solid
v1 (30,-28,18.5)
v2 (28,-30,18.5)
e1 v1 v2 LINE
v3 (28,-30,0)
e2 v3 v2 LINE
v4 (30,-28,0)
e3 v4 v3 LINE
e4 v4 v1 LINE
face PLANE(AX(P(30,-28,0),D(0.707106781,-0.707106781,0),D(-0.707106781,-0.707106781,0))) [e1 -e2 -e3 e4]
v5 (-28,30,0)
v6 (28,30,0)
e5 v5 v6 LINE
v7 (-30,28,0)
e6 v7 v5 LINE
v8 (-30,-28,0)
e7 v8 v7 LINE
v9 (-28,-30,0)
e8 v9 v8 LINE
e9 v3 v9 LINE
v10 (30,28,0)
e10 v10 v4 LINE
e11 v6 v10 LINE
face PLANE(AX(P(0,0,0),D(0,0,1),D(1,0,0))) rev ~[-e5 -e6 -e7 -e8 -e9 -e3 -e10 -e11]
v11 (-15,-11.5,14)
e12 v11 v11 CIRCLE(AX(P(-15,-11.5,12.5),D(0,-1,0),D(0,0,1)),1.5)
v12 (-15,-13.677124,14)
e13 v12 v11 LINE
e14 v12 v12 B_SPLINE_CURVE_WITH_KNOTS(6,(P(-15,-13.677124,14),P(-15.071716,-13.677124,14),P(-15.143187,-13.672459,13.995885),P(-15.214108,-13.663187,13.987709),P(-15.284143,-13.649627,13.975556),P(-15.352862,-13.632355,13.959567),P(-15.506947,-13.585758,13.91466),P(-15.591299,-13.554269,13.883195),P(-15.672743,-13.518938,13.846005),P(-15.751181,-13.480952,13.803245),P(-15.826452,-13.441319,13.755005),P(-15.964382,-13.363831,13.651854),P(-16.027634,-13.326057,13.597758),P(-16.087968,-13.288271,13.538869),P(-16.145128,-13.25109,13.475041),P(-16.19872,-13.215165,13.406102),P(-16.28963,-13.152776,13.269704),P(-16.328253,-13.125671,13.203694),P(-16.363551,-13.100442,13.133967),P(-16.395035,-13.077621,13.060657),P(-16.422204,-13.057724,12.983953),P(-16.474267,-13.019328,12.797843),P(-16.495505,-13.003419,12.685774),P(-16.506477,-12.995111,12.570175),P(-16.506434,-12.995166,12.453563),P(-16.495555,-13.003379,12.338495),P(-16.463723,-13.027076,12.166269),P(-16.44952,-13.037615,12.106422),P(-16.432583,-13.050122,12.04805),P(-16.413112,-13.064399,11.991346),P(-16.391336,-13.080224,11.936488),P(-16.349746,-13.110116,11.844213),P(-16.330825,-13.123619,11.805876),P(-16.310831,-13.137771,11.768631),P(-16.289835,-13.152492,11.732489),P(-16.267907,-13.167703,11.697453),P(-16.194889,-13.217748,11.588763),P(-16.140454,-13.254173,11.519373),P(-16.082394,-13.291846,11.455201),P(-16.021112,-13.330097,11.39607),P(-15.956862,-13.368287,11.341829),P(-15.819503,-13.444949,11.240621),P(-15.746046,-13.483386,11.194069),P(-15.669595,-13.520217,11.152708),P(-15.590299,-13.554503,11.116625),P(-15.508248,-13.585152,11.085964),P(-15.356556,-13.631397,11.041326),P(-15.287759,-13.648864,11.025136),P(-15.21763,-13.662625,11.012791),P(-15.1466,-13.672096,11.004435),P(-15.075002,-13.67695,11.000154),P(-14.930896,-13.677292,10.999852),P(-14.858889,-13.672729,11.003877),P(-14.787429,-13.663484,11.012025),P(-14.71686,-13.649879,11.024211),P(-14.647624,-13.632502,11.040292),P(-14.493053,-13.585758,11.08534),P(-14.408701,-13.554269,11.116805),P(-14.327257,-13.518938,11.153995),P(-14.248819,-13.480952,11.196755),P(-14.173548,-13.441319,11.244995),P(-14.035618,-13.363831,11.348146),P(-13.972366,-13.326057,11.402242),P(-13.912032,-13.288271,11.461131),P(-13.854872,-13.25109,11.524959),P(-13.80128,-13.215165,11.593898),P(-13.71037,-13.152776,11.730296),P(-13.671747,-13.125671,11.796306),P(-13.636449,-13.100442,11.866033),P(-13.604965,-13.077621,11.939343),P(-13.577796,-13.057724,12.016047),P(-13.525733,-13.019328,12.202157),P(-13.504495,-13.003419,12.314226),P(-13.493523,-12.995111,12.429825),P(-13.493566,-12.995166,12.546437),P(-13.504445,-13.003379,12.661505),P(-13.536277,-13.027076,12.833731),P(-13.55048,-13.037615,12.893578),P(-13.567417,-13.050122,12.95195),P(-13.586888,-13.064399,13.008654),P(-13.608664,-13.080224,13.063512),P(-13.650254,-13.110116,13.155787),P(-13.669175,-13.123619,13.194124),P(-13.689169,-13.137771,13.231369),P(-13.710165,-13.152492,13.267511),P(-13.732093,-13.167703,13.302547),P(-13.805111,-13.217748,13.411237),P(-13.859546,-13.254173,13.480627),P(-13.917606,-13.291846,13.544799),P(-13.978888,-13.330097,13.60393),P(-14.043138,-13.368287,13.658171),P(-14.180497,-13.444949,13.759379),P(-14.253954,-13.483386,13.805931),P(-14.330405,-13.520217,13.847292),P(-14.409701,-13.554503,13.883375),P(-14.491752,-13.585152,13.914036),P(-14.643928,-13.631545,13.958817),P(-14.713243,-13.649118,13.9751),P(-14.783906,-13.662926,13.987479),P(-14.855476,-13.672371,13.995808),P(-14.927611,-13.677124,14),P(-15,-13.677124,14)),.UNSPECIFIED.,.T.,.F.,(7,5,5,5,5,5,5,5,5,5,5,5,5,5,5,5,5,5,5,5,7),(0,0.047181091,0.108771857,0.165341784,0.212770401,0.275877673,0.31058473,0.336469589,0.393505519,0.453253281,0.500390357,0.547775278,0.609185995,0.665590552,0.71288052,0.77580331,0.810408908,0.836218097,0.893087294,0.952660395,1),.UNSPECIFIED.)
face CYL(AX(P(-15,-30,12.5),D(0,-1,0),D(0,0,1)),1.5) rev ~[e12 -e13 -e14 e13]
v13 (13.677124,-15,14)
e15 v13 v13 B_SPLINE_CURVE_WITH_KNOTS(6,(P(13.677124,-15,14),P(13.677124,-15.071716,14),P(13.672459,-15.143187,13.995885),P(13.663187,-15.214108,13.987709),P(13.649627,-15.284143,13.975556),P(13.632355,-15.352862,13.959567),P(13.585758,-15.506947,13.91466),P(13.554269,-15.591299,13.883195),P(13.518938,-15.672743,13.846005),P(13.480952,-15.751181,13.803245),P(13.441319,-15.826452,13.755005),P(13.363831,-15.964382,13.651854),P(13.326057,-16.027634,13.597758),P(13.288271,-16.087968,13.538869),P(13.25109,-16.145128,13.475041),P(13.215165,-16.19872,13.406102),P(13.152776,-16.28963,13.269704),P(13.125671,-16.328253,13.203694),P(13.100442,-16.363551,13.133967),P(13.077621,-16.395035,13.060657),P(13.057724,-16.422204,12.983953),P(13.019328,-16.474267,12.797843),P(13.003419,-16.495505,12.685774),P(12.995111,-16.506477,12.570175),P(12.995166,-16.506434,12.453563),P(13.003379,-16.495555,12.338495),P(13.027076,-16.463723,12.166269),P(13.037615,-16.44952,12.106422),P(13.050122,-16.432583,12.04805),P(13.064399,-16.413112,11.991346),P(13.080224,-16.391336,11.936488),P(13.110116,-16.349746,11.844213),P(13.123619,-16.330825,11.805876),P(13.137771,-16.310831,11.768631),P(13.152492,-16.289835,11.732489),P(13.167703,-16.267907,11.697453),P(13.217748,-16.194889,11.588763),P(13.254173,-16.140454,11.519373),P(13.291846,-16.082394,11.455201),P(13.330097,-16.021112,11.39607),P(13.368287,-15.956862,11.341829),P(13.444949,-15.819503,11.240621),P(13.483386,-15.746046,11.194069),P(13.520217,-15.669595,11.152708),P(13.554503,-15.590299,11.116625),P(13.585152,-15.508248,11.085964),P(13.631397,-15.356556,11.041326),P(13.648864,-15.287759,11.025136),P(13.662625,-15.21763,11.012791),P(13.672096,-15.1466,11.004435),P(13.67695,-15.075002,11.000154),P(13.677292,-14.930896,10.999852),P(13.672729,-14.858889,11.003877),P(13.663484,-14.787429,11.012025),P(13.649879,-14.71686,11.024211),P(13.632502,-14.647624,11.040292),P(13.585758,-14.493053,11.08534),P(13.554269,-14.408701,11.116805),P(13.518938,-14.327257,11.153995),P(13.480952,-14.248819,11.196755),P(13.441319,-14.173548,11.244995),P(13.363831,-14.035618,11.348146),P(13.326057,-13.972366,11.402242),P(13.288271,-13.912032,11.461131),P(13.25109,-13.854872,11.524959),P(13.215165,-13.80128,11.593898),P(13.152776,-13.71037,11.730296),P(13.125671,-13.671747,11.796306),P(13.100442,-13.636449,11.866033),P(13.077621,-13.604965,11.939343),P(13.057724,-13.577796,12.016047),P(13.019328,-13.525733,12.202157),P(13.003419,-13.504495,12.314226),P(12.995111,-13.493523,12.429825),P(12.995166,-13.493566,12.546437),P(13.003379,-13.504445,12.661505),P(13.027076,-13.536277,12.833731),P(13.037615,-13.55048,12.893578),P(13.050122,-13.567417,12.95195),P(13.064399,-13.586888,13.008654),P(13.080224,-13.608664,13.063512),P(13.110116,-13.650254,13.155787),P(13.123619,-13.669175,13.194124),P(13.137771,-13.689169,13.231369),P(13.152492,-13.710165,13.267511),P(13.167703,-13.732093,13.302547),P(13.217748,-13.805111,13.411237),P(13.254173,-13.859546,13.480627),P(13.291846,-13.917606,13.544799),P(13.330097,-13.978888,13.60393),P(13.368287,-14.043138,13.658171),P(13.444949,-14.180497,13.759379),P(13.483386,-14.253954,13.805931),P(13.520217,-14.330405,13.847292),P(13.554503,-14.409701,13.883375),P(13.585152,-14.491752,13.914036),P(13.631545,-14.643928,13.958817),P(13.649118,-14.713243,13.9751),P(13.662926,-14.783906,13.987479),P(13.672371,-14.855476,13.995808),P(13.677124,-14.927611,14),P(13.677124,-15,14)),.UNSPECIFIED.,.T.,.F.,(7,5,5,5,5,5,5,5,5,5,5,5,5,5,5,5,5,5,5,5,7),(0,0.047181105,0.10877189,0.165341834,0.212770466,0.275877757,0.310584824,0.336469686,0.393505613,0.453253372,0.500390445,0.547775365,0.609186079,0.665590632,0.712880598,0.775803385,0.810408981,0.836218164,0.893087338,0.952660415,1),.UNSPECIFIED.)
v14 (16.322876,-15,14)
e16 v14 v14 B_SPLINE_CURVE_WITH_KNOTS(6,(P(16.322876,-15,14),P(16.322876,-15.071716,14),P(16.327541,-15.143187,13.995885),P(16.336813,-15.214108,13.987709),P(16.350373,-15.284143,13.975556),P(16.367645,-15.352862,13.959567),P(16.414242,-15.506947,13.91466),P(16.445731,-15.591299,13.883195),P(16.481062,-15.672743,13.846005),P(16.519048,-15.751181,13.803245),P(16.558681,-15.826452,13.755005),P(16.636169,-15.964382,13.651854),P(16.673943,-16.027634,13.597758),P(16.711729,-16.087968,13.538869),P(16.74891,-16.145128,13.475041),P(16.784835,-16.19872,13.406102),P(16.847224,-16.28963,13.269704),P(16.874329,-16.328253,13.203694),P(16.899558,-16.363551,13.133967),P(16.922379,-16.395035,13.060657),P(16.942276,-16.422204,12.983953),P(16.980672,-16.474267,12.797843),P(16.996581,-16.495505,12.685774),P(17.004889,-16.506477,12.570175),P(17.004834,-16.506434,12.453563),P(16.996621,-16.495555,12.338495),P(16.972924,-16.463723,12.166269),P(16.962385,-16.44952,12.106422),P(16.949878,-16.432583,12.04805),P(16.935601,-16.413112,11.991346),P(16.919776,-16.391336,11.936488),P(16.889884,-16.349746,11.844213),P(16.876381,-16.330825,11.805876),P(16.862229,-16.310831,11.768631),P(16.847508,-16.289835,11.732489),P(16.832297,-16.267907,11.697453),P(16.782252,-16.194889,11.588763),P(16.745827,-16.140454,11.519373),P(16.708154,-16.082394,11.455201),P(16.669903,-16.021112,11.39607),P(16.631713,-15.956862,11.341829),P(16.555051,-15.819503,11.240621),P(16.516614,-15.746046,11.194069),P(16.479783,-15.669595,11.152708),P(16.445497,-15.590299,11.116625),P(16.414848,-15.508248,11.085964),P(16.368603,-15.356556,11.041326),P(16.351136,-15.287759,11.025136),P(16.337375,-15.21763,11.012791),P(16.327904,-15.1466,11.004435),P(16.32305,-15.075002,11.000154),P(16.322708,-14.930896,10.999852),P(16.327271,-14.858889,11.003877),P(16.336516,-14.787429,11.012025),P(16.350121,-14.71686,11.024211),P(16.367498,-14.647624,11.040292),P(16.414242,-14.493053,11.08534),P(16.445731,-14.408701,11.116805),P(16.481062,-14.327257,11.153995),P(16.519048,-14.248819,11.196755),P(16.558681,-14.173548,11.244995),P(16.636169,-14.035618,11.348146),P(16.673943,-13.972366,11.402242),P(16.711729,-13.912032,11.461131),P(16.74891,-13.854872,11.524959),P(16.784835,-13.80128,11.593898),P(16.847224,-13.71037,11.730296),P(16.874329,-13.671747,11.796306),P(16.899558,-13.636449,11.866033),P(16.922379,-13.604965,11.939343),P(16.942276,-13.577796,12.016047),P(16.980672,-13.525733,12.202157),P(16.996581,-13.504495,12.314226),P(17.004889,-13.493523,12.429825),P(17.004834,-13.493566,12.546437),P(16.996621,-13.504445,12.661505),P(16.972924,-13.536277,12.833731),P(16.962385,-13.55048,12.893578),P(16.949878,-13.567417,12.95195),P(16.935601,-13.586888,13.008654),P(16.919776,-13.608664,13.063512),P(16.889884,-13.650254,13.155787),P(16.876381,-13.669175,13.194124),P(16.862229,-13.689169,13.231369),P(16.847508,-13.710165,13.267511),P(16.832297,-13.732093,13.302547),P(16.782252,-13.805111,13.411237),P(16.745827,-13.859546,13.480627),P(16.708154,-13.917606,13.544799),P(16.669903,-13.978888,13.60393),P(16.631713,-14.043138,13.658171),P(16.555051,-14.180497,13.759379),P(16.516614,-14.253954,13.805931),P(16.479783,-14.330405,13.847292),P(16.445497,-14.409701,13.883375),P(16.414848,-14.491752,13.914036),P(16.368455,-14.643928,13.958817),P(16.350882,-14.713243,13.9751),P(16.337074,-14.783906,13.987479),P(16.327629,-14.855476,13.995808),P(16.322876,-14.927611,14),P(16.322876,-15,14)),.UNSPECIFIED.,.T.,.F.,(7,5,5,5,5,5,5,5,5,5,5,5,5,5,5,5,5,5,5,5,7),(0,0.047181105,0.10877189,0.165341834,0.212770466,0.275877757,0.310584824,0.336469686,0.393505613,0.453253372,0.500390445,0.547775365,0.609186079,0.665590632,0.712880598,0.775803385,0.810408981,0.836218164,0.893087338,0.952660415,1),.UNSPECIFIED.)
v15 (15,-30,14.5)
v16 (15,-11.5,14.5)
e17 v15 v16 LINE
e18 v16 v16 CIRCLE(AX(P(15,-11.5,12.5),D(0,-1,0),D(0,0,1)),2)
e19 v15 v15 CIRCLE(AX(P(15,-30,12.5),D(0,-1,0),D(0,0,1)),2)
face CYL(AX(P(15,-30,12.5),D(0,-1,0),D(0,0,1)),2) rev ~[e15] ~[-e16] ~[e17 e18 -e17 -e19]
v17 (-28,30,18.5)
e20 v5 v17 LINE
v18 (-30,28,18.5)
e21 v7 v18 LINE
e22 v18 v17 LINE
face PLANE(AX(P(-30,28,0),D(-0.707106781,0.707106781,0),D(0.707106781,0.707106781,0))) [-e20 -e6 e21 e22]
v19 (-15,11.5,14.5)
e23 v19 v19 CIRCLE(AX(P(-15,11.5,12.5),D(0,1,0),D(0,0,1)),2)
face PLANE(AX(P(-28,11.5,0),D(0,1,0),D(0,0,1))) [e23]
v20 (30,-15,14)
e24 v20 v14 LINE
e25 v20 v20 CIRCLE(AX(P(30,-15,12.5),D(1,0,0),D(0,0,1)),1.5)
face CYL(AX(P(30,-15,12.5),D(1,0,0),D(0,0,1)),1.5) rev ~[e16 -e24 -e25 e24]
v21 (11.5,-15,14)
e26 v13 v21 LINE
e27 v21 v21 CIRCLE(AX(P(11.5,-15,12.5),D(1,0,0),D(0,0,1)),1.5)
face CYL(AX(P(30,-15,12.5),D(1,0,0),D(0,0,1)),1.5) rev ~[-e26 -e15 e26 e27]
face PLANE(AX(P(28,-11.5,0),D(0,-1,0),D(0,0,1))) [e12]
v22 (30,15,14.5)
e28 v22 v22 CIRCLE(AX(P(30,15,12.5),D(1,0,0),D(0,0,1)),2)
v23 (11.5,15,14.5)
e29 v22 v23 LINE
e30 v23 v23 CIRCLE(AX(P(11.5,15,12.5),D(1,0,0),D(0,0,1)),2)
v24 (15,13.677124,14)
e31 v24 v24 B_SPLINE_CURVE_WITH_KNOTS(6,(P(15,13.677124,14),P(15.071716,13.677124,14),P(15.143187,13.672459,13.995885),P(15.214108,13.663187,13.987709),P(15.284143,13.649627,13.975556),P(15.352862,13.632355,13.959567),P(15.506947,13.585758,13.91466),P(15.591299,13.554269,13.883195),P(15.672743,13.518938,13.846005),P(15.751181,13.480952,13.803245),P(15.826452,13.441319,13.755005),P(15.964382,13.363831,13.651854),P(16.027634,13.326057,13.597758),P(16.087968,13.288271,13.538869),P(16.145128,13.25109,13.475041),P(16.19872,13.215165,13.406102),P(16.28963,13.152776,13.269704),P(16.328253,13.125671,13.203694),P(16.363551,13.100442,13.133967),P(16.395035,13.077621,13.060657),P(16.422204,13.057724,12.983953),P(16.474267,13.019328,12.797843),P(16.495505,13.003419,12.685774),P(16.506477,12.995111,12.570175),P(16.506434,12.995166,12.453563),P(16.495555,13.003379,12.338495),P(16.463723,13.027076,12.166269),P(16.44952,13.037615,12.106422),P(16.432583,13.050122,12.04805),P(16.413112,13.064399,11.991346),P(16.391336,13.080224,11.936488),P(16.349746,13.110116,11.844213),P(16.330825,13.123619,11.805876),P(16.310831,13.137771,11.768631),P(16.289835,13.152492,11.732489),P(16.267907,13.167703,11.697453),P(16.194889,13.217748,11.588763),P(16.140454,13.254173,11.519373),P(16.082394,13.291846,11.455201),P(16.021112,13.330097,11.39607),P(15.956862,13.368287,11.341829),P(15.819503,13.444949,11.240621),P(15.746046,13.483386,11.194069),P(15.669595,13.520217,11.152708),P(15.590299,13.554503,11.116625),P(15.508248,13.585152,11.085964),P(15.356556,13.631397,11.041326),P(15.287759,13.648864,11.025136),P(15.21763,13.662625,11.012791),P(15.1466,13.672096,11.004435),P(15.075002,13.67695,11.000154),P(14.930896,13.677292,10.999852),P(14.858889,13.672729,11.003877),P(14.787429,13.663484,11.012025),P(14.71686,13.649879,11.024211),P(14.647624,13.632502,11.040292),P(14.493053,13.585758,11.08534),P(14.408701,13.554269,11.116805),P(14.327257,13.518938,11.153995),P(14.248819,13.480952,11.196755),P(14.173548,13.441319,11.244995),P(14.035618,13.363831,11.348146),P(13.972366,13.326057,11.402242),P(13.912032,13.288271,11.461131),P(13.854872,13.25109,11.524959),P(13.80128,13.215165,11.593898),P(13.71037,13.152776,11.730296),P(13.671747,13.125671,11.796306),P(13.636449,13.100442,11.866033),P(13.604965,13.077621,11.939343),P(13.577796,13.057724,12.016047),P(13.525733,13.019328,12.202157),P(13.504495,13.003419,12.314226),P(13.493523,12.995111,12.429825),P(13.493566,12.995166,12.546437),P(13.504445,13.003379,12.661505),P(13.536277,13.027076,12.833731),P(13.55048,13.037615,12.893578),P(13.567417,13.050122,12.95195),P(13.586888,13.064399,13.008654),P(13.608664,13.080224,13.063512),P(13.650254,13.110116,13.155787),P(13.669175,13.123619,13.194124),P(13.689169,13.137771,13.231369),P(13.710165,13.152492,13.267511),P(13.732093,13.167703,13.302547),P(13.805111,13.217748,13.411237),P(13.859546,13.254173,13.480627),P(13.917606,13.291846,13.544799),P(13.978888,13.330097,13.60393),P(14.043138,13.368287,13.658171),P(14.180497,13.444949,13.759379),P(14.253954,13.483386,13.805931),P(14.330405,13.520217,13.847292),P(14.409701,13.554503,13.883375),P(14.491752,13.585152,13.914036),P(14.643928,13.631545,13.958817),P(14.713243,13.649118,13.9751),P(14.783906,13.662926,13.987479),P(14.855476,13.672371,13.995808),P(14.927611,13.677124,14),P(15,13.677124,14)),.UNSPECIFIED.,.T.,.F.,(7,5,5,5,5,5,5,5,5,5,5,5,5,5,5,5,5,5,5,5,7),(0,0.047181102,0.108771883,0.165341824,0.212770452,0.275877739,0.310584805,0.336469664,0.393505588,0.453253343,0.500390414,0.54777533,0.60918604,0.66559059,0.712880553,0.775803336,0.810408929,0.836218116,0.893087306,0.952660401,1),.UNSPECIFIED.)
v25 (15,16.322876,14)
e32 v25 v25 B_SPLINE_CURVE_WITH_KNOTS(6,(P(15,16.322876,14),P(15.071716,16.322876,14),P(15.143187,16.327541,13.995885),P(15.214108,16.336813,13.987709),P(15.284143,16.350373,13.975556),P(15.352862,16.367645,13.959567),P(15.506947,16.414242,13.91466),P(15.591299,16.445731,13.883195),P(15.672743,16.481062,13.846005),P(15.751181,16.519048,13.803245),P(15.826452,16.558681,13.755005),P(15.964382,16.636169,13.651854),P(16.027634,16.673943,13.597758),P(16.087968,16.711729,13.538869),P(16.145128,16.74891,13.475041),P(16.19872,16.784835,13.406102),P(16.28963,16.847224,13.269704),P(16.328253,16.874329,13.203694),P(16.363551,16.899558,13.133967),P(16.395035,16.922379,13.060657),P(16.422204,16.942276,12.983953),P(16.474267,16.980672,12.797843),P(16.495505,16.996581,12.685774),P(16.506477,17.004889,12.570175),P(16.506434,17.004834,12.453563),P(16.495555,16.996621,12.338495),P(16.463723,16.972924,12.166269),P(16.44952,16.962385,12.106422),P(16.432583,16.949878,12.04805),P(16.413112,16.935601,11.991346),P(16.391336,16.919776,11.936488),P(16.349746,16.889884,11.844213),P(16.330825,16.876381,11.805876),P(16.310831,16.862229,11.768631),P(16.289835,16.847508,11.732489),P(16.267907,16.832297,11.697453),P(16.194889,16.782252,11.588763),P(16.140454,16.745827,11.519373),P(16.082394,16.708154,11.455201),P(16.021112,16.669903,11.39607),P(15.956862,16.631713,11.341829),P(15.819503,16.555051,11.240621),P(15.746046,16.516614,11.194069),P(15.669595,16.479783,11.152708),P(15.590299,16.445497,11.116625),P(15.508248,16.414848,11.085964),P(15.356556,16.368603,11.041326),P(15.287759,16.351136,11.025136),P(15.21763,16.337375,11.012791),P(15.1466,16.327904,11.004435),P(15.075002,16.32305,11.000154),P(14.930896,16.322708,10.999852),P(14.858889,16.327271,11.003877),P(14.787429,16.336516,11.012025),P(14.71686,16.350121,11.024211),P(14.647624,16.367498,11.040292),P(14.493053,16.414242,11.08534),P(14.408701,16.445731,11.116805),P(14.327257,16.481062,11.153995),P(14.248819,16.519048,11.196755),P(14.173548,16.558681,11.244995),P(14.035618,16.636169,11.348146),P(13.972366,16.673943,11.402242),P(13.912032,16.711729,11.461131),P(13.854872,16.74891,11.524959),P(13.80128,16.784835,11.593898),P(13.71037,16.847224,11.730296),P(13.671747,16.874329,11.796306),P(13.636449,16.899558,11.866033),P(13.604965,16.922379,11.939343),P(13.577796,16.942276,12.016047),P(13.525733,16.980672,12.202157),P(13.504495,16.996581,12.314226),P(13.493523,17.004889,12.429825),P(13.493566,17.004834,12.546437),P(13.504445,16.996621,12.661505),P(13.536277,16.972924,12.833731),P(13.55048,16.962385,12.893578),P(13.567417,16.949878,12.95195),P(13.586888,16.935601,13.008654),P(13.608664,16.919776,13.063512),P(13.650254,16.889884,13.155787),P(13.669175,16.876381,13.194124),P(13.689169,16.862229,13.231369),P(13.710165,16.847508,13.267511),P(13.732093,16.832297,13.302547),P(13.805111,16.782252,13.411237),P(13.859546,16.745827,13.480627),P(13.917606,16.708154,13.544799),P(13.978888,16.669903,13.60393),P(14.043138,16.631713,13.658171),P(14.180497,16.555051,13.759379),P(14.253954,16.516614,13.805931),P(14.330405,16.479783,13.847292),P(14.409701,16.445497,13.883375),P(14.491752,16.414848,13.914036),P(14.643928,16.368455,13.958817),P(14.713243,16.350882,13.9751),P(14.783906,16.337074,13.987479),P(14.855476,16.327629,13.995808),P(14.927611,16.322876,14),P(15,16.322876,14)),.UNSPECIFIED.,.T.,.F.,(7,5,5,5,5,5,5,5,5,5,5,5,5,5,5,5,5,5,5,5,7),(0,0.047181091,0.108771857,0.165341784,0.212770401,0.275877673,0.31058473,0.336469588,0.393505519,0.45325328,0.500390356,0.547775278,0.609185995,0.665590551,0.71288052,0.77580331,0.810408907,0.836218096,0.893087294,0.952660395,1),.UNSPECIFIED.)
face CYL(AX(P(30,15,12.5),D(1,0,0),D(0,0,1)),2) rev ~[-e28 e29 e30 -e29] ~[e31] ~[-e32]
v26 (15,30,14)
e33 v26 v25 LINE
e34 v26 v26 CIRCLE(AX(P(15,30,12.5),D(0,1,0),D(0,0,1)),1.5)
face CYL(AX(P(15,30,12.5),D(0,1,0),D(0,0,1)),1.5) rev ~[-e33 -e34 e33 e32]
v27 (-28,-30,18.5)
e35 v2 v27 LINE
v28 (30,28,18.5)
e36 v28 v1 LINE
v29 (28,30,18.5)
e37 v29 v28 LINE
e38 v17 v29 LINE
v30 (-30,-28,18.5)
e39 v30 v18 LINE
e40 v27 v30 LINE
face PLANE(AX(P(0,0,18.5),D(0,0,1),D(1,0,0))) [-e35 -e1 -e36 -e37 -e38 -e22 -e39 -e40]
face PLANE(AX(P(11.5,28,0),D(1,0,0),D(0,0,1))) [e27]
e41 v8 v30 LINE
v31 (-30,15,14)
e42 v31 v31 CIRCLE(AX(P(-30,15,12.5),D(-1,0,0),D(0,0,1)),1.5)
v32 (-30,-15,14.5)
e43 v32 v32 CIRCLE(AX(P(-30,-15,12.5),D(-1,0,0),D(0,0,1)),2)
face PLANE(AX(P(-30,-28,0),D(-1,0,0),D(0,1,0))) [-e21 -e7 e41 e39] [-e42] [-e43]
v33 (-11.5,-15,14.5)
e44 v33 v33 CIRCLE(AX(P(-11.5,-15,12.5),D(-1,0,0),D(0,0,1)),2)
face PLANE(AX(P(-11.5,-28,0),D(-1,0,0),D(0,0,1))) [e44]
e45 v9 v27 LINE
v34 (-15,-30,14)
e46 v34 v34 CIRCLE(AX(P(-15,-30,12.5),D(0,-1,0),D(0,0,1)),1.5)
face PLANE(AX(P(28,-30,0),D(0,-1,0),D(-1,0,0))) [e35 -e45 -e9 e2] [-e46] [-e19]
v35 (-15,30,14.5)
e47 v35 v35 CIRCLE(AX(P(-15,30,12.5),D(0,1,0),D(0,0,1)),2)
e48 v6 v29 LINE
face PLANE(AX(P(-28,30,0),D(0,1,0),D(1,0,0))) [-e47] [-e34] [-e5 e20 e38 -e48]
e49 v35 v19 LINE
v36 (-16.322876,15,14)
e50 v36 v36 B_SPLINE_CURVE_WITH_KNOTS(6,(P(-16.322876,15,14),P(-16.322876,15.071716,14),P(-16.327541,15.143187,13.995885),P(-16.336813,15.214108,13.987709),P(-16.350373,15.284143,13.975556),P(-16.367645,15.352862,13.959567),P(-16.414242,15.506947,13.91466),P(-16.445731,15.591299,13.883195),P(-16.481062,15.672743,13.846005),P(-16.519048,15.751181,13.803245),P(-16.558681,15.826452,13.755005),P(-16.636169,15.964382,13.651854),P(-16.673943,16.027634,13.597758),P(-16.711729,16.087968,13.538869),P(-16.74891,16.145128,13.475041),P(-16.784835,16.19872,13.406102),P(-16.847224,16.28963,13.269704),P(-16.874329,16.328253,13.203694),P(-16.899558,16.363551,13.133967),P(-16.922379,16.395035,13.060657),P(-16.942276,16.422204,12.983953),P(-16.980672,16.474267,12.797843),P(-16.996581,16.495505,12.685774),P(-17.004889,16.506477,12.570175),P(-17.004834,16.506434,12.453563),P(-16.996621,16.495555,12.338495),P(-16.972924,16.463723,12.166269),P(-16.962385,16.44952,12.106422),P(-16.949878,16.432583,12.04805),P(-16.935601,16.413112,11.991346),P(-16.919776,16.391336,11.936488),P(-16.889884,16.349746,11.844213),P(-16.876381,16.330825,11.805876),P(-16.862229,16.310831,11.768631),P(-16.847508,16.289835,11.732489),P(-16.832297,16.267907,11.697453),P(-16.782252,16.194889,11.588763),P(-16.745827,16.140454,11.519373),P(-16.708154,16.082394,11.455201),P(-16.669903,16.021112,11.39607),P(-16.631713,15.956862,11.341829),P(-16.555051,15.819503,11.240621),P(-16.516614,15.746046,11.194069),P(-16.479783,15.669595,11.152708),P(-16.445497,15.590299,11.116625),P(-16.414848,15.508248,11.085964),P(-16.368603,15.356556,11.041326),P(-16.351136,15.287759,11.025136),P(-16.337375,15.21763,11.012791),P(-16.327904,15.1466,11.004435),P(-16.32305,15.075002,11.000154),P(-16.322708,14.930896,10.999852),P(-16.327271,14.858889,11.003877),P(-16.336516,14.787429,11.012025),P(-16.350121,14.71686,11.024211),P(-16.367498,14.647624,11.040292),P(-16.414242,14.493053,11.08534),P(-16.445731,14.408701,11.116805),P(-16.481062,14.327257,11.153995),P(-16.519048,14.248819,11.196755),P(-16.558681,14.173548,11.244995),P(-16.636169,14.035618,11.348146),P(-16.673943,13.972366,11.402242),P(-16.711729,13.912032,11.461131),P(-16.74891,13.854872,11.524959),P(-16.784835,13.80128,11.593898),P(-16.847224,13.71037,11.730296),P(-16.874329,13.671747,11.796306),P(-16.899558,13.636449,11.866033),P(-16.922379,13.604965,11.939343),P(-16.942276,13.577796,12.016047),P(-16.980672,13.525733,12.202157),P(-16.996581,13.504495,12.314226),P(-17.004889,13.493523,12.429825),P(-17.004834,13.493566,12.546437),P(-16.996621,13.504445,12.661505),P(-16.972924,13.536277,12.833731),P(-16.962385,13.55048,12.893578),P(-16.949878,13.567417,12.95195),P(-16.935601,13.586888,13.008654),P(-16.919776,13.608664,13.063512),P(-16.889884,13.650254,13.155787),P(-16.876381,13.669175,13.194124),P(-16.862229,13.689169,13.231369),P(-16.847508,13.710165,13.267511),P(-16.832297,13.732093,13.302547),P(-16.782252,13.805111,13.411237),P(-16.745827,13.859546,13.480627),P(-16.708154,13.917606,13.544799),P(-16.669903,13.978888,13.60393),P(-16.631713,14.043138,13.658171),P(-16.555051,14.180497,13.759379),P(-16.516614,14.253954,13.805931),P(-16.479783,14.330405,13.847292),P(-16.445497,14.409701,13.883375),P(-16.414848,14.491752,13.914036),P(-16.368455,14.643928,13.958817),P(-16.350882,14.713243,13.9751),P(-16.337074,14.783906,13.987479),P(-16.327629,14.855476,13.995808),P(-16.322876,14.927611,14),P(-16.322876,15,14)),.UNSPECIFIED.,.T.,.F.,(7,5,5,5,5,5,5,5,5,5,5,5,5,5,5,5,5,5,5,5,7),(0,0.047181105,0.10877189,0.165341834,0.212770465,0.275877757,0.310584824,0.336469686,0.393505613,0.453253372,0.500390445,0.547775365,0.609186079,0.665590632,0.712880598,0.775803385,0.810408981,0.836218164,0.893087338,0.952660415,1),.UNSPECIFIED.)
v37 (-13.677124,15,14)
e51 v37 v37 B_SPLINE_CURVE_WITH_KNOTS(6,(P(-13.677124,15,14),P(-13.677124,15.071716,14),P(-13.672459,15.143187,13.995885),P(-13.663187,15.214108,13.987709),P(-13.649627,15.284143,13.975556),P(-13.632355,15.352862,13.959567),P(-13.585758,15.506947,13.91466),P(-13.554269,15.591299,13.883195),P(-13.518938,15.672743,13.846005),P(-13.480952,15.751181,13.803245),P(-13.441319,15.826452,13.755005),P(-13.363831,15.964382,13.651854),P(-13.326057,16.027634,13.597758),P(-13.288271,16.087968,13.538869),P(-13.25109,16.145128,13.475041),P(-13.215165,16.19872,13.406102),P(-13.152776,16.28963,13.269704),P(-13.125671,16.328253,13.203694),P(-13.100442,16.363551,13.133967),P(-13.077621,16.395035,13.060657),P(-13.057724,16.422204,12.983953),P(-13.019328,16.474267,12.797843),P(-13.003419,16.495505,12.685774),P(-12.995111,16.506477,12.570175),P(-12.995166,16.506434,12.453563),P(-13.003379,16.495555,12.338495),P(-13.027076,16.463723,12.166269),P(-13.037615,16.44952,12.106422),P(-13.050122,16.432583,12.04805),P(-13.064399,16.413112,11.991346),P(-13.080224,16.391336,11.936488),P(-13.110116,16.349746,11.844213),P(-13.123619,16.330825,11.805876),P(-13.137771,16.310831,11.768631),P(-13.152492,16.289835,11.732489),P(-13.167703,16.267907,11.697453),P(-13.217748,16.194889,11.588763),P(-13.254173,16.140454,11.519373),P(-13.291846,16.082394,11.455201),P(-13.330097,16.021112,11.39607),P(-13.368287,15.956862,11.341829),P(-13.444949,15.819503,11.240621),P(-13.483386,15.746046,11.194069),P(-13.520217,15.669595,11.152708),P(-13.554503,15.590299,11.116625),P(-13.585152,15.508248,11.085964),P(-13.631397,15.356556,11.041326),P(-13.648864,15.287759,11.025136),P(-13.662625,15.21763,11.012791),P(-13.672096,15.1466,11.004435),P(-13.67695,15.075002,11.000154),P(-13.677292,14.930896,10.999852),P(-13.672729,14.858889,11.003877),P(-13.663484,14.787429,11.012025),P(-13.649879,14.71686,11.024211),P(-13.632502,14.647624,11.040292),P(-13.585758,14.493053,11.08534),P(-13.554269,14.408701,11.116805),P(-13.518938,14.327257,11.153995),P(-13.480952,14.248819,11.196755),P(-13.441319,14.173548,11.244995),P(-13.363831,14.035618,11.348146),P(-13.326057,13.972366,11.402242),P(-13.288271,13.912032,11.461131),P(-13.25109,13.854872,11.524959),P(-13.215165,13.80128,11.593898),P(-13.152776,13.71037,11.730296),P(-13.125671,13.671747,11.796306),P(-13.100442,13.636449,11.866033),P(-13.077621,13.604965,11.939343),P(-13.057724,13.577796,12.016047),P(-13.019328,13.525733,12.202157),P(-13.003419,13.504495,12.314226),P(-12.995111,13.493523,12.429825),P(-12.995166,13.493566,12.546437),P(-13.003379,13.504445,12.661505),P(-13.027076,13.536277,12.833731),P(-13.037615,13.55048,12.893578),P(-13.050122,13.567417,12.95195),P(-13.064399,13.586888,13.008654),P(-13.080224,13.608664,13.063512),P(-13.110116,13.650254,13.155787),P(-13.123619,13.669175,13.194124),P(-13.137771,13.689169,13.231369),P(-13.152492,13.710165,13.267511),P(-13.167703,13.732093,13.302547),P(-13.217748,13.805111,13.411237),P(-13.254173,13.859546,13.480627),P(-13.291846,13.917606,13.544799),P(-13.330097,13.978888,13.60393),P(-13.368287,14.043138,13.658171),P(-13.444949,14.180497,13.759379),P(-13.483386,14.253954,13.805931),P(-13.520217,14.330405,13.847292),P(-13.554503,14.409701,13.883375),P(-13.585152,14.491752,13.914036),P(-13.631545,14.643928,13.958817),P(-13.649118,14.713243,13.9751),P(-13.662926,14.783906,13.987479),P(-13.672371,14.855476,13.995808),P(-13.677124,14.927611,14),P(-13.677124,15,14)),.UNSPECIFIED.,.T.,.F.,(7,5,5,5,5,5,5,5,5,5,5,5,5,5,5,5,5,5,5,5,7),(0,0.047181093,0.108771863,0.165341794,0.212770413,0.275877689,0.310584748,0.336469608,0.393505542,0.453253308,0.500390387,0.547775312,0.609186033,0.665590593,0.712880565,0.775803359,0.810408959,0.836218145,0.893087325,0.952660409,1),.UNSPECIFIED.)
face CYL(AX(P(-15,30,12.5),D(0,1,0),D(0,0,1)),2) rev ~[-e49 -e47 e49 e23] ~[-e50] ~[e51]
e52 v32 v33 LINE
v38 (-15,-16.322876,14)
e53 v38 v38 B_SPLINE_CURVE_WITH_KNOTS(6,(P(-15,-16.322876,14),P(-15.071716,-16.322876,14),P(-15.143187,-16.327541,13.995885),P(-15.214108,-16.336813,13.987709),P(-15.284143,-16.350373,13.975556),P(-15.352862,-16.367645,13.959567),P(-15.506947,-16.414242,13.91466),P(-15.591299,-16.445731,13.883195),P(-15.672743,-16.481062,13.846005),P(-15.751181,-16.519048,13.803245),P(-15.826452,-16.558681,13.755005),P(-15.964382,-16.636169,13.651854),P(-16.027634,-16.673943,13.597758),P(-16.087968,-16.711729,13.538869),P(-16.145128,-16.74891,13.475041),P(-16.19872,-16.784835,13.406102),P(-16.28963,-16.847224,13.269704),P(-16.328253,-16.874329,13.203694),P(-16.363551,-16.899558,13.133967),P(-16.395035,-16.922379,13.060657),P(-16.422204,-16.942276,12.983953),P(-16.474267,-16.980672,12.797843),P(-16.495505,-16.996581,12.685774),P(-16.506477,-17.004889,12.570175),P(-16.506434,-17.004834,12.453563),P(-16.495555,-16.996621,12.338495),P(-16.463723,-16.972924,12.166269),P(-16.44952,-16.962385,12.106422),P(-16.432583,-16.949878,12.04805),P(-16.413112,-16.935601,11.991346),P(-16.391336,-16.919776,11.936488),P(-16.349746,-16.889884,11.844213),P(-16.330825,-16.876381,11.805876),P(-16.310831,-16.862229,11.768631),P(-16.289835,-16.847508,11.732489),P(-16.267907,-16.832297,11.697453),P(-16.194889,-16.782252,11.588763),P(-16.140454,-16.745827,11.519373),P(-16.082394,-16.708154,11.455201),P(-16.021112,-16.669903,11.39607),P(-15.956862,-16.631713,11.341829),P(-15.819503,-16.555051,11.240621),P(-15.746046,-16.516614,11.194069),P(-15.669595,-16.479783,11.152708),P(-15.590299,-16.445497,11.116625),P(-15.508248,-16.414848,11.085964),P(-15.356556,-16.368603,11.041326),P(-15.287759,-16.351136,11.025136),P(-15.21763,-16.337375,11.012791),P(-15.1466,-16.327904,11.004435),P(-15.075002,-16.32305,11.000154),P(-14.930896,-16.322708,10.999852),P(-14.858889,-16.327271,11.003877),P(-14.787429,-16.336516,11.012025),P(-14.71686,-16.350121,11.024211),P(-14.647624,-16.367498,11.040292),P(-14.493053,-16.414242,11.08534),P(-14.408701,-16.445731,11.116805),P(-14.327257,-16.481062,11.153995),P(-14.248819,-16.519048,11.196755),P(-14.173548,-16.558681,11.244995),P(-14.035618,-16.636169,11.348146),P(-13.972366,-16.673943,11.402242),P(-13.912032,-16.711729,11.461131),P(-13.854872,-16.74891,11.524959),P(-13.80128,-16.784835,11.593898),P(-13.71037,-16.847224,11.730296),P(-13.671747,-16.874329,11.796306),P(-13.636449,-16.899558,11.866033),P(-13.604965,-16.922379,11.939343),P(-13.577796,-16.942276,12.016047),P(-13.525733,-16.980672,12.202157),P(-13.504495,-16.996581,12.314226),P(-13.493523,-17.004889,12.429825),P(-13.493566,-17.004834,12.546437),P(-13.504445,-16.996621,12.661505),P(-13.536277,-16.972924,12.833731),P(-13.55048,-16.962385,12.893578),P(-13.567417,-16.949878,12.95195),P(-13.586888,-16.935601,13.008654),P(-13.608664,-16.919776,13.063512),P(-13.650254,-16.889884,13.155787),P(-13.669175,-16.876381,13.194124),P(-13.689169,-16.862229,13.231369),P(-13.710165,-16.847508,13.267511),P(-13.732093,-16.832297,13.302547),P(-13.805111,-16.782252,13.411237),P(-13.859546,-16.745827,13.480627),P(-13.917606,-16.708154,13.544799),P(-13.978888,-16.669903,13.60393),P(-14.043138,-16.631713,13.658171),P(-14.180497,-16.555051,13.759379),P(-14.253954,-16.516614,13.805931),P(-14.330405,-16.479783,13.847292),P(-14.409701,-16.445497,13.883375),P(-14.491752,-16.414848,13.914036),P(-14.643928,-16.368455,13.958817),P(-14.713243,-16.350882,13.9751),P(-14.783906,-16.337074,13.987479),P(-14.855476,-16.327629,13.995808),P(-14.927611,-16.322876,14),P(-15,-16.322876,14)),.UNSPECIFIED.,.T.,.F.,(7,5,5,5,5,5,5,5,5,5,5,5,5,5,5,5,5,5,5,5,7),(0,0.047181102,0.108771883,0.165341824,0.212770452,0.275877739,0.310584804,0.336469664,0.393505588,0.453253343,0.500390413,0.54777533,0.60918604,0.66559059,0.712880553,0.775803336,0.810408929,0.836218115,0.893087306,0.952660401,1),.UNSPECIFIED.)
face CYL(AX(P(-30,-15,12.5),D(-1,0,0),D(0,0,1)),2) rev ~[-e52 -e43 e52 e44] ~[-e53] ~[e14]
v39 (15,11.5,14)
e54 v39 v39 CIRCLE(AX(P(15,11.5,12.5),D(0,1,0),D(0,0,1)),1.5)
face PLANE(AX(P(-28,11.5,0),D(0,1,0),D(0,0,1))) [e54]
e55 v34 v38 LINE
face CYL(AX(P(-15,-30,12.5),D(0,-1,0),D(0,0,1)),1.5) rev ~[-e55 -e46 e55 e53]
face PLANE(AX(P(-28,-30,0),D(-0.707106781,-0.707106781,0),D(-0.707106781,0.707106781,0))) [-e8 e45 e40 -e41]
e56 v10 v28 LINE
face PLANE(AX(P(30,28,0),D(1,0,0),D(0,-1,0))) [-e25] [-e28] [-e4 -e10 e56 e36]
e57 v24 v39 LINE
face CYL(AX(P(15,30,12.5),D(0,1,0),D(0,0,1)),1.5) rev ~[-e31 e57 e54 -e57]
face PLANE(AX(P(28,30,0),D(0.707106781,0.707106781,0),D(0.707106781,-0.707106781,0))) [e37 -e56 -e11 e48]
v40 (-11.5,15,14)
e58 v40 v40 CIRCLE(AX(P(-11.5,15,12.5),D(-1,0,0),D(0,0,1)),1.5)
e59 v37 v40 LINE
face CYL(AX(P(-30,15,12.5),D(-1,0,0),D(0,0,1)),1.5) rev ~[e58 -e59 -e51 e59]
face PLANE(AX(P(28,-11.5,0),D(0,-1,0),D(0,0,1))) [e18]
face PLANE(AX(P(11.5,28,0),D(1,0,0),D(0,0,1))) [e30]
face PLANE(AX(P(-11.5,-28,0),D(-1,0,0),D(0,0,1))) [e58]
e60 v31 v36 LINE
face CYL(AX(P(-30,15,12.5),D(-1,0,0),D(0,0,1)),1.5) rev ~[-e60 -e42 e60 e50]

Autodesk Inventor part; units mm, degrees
ref_plane "YZ Plane" through (0, 0, 0) normal (1, 0, 0) x (0, 1, 0)
ref_plane "XZ Plane" through (0, 0, 0) normal (0, 1, 0) x (-1, 0, 0)
ref_plane "XY Plane" through (0, 0, 0) normal (0, 0, 1) x (1, 0, 0)
ref_plane "Work Plane1" through (0, 0, 0) normal (0, 0, 1) x (1, 0, 0)
sketch "Sketch1" plane through (0, 0, 0) normal (0, 0, 1) x (1, 0, 0)
  circle A0 centre (0, 0) radius 7.5 projected
  line L0 (-30, 28) -> (-28, 30) projected
  line L1 (-30, -28) -> (-30, 28) projected
  line L2 (-28, -30) -> (-30, -28) projected
  line L3 (28, -30) -> (-28, -30) projected
  line L4 (30, -28) -> (28, -30) projected
  line L5 (30, 28) -> (30, -28) projected
  line L6 (28, 30) -> (30, 28) projected
  line L7 (-28, 30) -> (28, 30) projected
  circle A1 centre (25, 25) radius 2.325 projected
  circle A2 centre (-25, -25) radius 2.325 projected
  circle A3 centre (25, -25) radius 2.325 projected
  circle A4 centre (-25, 25) radius 2.325 projected
  point P0 (0, 0)
extrude "Extrusion1" add sketch "Sketch1" along normal blind 18.5 contours A0 | L0 L7 L6 L5 L4 L3 L2 L1 | A1 | A2 | A3 | A4
sketch "Sketch2" plane through (0, 0, 18.5) normal (0, 0, 1) x (1, 0, 0)
  point P0 (0, 0)
sketch "Sketch3" plane through (30, -28, 0) normal (1, 0, 0) x (0, 0, -1)
  line L0 (0, 56) -> (0, 0) projected
  line L1 (0, 56) -> (-18.5, 56) projected
  line L2 (-18.5, 0) -> (-18.5, 56) projected
  line L3 (0, 0) -> (-18.5, 0) projected
  line L4 (-18.5, 0) -> (-18.5, 56) projected
  line L5 (0, 47.2331) -> (-18.5, 47.2331)
  line L6 (-18.5, 47.2331) -> (-18.5, 36.3051)
  line L7 (-18.5, 36.3051) -> (0, 36.3051)
  line L8 (0, 36.3051) -> (0, 47.2331)
  line L9 (0, 56) -> (0, 0) projected
  line L10 (0, 10.2066) -> (-18.5, 10.2066)
  line L11 (-18.5, 10.2066) -> (-18.5, 18.9489)
  line L12 (-18.5, 18.9489) -> (0, 18.9489)
  line L13 (0, 18.9489) -> (0, 10.2066)
  point P0 (0, 28)
extrude "Extrusion2" [suppressed]
sketch "Sketch4" plane through (30, 19.2331, 16) normal (0, 1, 0) x (1, 0, 0)
  line L0 (0, 0) -> (0, 16) projected
  line L1 (0, 0) -> (14, 0) projected
  line L2 (14, 16) -> (14, 0) projected
  line L3 (0, 16) -> (14, 16) projected
  circle A0 centre (7, 5) radius 1.5
  point P0 (-30, 16)
  dimension "d4" = 3
extrude "Extrusion3" [suppressed]
pattern_circular "Circular Pattern1" [suppressed]
sketch "Sketch5" plane through (-30, -28, 0) normal (-1, 0, 0) x (0, 0, 1)
  circle A0 centre (12.5, 43) radius 1.5
  line L0 (18.5, 56) -> (18.5, 0) projected
  line L1 (0, 58) -> (18.5, 58) projected
  circle A1 centre (12.5, 13) radius 2
  line L2 (0, -2) -> (18.5, -2) projected
  point P0 (0, 28)
  dimension "d10" = 3
  dimension "d11" = 6
  dimension "d12" = 15
  dimension "d13" = 4
  dimension "d14" = 6
  dimension "d15" = 15
extrude "Extrusion4" cut sketch "Sketch5" against normal blind 18.5
pattern_circular "Circular Pattern2" count 4 over 360 about axis through (0, 0, 0) along (0, 0, 1) of "Extrusion4"
properties part number "00_XY_stage-CHUO_SEIKI_LD-647-R1-Middle"
